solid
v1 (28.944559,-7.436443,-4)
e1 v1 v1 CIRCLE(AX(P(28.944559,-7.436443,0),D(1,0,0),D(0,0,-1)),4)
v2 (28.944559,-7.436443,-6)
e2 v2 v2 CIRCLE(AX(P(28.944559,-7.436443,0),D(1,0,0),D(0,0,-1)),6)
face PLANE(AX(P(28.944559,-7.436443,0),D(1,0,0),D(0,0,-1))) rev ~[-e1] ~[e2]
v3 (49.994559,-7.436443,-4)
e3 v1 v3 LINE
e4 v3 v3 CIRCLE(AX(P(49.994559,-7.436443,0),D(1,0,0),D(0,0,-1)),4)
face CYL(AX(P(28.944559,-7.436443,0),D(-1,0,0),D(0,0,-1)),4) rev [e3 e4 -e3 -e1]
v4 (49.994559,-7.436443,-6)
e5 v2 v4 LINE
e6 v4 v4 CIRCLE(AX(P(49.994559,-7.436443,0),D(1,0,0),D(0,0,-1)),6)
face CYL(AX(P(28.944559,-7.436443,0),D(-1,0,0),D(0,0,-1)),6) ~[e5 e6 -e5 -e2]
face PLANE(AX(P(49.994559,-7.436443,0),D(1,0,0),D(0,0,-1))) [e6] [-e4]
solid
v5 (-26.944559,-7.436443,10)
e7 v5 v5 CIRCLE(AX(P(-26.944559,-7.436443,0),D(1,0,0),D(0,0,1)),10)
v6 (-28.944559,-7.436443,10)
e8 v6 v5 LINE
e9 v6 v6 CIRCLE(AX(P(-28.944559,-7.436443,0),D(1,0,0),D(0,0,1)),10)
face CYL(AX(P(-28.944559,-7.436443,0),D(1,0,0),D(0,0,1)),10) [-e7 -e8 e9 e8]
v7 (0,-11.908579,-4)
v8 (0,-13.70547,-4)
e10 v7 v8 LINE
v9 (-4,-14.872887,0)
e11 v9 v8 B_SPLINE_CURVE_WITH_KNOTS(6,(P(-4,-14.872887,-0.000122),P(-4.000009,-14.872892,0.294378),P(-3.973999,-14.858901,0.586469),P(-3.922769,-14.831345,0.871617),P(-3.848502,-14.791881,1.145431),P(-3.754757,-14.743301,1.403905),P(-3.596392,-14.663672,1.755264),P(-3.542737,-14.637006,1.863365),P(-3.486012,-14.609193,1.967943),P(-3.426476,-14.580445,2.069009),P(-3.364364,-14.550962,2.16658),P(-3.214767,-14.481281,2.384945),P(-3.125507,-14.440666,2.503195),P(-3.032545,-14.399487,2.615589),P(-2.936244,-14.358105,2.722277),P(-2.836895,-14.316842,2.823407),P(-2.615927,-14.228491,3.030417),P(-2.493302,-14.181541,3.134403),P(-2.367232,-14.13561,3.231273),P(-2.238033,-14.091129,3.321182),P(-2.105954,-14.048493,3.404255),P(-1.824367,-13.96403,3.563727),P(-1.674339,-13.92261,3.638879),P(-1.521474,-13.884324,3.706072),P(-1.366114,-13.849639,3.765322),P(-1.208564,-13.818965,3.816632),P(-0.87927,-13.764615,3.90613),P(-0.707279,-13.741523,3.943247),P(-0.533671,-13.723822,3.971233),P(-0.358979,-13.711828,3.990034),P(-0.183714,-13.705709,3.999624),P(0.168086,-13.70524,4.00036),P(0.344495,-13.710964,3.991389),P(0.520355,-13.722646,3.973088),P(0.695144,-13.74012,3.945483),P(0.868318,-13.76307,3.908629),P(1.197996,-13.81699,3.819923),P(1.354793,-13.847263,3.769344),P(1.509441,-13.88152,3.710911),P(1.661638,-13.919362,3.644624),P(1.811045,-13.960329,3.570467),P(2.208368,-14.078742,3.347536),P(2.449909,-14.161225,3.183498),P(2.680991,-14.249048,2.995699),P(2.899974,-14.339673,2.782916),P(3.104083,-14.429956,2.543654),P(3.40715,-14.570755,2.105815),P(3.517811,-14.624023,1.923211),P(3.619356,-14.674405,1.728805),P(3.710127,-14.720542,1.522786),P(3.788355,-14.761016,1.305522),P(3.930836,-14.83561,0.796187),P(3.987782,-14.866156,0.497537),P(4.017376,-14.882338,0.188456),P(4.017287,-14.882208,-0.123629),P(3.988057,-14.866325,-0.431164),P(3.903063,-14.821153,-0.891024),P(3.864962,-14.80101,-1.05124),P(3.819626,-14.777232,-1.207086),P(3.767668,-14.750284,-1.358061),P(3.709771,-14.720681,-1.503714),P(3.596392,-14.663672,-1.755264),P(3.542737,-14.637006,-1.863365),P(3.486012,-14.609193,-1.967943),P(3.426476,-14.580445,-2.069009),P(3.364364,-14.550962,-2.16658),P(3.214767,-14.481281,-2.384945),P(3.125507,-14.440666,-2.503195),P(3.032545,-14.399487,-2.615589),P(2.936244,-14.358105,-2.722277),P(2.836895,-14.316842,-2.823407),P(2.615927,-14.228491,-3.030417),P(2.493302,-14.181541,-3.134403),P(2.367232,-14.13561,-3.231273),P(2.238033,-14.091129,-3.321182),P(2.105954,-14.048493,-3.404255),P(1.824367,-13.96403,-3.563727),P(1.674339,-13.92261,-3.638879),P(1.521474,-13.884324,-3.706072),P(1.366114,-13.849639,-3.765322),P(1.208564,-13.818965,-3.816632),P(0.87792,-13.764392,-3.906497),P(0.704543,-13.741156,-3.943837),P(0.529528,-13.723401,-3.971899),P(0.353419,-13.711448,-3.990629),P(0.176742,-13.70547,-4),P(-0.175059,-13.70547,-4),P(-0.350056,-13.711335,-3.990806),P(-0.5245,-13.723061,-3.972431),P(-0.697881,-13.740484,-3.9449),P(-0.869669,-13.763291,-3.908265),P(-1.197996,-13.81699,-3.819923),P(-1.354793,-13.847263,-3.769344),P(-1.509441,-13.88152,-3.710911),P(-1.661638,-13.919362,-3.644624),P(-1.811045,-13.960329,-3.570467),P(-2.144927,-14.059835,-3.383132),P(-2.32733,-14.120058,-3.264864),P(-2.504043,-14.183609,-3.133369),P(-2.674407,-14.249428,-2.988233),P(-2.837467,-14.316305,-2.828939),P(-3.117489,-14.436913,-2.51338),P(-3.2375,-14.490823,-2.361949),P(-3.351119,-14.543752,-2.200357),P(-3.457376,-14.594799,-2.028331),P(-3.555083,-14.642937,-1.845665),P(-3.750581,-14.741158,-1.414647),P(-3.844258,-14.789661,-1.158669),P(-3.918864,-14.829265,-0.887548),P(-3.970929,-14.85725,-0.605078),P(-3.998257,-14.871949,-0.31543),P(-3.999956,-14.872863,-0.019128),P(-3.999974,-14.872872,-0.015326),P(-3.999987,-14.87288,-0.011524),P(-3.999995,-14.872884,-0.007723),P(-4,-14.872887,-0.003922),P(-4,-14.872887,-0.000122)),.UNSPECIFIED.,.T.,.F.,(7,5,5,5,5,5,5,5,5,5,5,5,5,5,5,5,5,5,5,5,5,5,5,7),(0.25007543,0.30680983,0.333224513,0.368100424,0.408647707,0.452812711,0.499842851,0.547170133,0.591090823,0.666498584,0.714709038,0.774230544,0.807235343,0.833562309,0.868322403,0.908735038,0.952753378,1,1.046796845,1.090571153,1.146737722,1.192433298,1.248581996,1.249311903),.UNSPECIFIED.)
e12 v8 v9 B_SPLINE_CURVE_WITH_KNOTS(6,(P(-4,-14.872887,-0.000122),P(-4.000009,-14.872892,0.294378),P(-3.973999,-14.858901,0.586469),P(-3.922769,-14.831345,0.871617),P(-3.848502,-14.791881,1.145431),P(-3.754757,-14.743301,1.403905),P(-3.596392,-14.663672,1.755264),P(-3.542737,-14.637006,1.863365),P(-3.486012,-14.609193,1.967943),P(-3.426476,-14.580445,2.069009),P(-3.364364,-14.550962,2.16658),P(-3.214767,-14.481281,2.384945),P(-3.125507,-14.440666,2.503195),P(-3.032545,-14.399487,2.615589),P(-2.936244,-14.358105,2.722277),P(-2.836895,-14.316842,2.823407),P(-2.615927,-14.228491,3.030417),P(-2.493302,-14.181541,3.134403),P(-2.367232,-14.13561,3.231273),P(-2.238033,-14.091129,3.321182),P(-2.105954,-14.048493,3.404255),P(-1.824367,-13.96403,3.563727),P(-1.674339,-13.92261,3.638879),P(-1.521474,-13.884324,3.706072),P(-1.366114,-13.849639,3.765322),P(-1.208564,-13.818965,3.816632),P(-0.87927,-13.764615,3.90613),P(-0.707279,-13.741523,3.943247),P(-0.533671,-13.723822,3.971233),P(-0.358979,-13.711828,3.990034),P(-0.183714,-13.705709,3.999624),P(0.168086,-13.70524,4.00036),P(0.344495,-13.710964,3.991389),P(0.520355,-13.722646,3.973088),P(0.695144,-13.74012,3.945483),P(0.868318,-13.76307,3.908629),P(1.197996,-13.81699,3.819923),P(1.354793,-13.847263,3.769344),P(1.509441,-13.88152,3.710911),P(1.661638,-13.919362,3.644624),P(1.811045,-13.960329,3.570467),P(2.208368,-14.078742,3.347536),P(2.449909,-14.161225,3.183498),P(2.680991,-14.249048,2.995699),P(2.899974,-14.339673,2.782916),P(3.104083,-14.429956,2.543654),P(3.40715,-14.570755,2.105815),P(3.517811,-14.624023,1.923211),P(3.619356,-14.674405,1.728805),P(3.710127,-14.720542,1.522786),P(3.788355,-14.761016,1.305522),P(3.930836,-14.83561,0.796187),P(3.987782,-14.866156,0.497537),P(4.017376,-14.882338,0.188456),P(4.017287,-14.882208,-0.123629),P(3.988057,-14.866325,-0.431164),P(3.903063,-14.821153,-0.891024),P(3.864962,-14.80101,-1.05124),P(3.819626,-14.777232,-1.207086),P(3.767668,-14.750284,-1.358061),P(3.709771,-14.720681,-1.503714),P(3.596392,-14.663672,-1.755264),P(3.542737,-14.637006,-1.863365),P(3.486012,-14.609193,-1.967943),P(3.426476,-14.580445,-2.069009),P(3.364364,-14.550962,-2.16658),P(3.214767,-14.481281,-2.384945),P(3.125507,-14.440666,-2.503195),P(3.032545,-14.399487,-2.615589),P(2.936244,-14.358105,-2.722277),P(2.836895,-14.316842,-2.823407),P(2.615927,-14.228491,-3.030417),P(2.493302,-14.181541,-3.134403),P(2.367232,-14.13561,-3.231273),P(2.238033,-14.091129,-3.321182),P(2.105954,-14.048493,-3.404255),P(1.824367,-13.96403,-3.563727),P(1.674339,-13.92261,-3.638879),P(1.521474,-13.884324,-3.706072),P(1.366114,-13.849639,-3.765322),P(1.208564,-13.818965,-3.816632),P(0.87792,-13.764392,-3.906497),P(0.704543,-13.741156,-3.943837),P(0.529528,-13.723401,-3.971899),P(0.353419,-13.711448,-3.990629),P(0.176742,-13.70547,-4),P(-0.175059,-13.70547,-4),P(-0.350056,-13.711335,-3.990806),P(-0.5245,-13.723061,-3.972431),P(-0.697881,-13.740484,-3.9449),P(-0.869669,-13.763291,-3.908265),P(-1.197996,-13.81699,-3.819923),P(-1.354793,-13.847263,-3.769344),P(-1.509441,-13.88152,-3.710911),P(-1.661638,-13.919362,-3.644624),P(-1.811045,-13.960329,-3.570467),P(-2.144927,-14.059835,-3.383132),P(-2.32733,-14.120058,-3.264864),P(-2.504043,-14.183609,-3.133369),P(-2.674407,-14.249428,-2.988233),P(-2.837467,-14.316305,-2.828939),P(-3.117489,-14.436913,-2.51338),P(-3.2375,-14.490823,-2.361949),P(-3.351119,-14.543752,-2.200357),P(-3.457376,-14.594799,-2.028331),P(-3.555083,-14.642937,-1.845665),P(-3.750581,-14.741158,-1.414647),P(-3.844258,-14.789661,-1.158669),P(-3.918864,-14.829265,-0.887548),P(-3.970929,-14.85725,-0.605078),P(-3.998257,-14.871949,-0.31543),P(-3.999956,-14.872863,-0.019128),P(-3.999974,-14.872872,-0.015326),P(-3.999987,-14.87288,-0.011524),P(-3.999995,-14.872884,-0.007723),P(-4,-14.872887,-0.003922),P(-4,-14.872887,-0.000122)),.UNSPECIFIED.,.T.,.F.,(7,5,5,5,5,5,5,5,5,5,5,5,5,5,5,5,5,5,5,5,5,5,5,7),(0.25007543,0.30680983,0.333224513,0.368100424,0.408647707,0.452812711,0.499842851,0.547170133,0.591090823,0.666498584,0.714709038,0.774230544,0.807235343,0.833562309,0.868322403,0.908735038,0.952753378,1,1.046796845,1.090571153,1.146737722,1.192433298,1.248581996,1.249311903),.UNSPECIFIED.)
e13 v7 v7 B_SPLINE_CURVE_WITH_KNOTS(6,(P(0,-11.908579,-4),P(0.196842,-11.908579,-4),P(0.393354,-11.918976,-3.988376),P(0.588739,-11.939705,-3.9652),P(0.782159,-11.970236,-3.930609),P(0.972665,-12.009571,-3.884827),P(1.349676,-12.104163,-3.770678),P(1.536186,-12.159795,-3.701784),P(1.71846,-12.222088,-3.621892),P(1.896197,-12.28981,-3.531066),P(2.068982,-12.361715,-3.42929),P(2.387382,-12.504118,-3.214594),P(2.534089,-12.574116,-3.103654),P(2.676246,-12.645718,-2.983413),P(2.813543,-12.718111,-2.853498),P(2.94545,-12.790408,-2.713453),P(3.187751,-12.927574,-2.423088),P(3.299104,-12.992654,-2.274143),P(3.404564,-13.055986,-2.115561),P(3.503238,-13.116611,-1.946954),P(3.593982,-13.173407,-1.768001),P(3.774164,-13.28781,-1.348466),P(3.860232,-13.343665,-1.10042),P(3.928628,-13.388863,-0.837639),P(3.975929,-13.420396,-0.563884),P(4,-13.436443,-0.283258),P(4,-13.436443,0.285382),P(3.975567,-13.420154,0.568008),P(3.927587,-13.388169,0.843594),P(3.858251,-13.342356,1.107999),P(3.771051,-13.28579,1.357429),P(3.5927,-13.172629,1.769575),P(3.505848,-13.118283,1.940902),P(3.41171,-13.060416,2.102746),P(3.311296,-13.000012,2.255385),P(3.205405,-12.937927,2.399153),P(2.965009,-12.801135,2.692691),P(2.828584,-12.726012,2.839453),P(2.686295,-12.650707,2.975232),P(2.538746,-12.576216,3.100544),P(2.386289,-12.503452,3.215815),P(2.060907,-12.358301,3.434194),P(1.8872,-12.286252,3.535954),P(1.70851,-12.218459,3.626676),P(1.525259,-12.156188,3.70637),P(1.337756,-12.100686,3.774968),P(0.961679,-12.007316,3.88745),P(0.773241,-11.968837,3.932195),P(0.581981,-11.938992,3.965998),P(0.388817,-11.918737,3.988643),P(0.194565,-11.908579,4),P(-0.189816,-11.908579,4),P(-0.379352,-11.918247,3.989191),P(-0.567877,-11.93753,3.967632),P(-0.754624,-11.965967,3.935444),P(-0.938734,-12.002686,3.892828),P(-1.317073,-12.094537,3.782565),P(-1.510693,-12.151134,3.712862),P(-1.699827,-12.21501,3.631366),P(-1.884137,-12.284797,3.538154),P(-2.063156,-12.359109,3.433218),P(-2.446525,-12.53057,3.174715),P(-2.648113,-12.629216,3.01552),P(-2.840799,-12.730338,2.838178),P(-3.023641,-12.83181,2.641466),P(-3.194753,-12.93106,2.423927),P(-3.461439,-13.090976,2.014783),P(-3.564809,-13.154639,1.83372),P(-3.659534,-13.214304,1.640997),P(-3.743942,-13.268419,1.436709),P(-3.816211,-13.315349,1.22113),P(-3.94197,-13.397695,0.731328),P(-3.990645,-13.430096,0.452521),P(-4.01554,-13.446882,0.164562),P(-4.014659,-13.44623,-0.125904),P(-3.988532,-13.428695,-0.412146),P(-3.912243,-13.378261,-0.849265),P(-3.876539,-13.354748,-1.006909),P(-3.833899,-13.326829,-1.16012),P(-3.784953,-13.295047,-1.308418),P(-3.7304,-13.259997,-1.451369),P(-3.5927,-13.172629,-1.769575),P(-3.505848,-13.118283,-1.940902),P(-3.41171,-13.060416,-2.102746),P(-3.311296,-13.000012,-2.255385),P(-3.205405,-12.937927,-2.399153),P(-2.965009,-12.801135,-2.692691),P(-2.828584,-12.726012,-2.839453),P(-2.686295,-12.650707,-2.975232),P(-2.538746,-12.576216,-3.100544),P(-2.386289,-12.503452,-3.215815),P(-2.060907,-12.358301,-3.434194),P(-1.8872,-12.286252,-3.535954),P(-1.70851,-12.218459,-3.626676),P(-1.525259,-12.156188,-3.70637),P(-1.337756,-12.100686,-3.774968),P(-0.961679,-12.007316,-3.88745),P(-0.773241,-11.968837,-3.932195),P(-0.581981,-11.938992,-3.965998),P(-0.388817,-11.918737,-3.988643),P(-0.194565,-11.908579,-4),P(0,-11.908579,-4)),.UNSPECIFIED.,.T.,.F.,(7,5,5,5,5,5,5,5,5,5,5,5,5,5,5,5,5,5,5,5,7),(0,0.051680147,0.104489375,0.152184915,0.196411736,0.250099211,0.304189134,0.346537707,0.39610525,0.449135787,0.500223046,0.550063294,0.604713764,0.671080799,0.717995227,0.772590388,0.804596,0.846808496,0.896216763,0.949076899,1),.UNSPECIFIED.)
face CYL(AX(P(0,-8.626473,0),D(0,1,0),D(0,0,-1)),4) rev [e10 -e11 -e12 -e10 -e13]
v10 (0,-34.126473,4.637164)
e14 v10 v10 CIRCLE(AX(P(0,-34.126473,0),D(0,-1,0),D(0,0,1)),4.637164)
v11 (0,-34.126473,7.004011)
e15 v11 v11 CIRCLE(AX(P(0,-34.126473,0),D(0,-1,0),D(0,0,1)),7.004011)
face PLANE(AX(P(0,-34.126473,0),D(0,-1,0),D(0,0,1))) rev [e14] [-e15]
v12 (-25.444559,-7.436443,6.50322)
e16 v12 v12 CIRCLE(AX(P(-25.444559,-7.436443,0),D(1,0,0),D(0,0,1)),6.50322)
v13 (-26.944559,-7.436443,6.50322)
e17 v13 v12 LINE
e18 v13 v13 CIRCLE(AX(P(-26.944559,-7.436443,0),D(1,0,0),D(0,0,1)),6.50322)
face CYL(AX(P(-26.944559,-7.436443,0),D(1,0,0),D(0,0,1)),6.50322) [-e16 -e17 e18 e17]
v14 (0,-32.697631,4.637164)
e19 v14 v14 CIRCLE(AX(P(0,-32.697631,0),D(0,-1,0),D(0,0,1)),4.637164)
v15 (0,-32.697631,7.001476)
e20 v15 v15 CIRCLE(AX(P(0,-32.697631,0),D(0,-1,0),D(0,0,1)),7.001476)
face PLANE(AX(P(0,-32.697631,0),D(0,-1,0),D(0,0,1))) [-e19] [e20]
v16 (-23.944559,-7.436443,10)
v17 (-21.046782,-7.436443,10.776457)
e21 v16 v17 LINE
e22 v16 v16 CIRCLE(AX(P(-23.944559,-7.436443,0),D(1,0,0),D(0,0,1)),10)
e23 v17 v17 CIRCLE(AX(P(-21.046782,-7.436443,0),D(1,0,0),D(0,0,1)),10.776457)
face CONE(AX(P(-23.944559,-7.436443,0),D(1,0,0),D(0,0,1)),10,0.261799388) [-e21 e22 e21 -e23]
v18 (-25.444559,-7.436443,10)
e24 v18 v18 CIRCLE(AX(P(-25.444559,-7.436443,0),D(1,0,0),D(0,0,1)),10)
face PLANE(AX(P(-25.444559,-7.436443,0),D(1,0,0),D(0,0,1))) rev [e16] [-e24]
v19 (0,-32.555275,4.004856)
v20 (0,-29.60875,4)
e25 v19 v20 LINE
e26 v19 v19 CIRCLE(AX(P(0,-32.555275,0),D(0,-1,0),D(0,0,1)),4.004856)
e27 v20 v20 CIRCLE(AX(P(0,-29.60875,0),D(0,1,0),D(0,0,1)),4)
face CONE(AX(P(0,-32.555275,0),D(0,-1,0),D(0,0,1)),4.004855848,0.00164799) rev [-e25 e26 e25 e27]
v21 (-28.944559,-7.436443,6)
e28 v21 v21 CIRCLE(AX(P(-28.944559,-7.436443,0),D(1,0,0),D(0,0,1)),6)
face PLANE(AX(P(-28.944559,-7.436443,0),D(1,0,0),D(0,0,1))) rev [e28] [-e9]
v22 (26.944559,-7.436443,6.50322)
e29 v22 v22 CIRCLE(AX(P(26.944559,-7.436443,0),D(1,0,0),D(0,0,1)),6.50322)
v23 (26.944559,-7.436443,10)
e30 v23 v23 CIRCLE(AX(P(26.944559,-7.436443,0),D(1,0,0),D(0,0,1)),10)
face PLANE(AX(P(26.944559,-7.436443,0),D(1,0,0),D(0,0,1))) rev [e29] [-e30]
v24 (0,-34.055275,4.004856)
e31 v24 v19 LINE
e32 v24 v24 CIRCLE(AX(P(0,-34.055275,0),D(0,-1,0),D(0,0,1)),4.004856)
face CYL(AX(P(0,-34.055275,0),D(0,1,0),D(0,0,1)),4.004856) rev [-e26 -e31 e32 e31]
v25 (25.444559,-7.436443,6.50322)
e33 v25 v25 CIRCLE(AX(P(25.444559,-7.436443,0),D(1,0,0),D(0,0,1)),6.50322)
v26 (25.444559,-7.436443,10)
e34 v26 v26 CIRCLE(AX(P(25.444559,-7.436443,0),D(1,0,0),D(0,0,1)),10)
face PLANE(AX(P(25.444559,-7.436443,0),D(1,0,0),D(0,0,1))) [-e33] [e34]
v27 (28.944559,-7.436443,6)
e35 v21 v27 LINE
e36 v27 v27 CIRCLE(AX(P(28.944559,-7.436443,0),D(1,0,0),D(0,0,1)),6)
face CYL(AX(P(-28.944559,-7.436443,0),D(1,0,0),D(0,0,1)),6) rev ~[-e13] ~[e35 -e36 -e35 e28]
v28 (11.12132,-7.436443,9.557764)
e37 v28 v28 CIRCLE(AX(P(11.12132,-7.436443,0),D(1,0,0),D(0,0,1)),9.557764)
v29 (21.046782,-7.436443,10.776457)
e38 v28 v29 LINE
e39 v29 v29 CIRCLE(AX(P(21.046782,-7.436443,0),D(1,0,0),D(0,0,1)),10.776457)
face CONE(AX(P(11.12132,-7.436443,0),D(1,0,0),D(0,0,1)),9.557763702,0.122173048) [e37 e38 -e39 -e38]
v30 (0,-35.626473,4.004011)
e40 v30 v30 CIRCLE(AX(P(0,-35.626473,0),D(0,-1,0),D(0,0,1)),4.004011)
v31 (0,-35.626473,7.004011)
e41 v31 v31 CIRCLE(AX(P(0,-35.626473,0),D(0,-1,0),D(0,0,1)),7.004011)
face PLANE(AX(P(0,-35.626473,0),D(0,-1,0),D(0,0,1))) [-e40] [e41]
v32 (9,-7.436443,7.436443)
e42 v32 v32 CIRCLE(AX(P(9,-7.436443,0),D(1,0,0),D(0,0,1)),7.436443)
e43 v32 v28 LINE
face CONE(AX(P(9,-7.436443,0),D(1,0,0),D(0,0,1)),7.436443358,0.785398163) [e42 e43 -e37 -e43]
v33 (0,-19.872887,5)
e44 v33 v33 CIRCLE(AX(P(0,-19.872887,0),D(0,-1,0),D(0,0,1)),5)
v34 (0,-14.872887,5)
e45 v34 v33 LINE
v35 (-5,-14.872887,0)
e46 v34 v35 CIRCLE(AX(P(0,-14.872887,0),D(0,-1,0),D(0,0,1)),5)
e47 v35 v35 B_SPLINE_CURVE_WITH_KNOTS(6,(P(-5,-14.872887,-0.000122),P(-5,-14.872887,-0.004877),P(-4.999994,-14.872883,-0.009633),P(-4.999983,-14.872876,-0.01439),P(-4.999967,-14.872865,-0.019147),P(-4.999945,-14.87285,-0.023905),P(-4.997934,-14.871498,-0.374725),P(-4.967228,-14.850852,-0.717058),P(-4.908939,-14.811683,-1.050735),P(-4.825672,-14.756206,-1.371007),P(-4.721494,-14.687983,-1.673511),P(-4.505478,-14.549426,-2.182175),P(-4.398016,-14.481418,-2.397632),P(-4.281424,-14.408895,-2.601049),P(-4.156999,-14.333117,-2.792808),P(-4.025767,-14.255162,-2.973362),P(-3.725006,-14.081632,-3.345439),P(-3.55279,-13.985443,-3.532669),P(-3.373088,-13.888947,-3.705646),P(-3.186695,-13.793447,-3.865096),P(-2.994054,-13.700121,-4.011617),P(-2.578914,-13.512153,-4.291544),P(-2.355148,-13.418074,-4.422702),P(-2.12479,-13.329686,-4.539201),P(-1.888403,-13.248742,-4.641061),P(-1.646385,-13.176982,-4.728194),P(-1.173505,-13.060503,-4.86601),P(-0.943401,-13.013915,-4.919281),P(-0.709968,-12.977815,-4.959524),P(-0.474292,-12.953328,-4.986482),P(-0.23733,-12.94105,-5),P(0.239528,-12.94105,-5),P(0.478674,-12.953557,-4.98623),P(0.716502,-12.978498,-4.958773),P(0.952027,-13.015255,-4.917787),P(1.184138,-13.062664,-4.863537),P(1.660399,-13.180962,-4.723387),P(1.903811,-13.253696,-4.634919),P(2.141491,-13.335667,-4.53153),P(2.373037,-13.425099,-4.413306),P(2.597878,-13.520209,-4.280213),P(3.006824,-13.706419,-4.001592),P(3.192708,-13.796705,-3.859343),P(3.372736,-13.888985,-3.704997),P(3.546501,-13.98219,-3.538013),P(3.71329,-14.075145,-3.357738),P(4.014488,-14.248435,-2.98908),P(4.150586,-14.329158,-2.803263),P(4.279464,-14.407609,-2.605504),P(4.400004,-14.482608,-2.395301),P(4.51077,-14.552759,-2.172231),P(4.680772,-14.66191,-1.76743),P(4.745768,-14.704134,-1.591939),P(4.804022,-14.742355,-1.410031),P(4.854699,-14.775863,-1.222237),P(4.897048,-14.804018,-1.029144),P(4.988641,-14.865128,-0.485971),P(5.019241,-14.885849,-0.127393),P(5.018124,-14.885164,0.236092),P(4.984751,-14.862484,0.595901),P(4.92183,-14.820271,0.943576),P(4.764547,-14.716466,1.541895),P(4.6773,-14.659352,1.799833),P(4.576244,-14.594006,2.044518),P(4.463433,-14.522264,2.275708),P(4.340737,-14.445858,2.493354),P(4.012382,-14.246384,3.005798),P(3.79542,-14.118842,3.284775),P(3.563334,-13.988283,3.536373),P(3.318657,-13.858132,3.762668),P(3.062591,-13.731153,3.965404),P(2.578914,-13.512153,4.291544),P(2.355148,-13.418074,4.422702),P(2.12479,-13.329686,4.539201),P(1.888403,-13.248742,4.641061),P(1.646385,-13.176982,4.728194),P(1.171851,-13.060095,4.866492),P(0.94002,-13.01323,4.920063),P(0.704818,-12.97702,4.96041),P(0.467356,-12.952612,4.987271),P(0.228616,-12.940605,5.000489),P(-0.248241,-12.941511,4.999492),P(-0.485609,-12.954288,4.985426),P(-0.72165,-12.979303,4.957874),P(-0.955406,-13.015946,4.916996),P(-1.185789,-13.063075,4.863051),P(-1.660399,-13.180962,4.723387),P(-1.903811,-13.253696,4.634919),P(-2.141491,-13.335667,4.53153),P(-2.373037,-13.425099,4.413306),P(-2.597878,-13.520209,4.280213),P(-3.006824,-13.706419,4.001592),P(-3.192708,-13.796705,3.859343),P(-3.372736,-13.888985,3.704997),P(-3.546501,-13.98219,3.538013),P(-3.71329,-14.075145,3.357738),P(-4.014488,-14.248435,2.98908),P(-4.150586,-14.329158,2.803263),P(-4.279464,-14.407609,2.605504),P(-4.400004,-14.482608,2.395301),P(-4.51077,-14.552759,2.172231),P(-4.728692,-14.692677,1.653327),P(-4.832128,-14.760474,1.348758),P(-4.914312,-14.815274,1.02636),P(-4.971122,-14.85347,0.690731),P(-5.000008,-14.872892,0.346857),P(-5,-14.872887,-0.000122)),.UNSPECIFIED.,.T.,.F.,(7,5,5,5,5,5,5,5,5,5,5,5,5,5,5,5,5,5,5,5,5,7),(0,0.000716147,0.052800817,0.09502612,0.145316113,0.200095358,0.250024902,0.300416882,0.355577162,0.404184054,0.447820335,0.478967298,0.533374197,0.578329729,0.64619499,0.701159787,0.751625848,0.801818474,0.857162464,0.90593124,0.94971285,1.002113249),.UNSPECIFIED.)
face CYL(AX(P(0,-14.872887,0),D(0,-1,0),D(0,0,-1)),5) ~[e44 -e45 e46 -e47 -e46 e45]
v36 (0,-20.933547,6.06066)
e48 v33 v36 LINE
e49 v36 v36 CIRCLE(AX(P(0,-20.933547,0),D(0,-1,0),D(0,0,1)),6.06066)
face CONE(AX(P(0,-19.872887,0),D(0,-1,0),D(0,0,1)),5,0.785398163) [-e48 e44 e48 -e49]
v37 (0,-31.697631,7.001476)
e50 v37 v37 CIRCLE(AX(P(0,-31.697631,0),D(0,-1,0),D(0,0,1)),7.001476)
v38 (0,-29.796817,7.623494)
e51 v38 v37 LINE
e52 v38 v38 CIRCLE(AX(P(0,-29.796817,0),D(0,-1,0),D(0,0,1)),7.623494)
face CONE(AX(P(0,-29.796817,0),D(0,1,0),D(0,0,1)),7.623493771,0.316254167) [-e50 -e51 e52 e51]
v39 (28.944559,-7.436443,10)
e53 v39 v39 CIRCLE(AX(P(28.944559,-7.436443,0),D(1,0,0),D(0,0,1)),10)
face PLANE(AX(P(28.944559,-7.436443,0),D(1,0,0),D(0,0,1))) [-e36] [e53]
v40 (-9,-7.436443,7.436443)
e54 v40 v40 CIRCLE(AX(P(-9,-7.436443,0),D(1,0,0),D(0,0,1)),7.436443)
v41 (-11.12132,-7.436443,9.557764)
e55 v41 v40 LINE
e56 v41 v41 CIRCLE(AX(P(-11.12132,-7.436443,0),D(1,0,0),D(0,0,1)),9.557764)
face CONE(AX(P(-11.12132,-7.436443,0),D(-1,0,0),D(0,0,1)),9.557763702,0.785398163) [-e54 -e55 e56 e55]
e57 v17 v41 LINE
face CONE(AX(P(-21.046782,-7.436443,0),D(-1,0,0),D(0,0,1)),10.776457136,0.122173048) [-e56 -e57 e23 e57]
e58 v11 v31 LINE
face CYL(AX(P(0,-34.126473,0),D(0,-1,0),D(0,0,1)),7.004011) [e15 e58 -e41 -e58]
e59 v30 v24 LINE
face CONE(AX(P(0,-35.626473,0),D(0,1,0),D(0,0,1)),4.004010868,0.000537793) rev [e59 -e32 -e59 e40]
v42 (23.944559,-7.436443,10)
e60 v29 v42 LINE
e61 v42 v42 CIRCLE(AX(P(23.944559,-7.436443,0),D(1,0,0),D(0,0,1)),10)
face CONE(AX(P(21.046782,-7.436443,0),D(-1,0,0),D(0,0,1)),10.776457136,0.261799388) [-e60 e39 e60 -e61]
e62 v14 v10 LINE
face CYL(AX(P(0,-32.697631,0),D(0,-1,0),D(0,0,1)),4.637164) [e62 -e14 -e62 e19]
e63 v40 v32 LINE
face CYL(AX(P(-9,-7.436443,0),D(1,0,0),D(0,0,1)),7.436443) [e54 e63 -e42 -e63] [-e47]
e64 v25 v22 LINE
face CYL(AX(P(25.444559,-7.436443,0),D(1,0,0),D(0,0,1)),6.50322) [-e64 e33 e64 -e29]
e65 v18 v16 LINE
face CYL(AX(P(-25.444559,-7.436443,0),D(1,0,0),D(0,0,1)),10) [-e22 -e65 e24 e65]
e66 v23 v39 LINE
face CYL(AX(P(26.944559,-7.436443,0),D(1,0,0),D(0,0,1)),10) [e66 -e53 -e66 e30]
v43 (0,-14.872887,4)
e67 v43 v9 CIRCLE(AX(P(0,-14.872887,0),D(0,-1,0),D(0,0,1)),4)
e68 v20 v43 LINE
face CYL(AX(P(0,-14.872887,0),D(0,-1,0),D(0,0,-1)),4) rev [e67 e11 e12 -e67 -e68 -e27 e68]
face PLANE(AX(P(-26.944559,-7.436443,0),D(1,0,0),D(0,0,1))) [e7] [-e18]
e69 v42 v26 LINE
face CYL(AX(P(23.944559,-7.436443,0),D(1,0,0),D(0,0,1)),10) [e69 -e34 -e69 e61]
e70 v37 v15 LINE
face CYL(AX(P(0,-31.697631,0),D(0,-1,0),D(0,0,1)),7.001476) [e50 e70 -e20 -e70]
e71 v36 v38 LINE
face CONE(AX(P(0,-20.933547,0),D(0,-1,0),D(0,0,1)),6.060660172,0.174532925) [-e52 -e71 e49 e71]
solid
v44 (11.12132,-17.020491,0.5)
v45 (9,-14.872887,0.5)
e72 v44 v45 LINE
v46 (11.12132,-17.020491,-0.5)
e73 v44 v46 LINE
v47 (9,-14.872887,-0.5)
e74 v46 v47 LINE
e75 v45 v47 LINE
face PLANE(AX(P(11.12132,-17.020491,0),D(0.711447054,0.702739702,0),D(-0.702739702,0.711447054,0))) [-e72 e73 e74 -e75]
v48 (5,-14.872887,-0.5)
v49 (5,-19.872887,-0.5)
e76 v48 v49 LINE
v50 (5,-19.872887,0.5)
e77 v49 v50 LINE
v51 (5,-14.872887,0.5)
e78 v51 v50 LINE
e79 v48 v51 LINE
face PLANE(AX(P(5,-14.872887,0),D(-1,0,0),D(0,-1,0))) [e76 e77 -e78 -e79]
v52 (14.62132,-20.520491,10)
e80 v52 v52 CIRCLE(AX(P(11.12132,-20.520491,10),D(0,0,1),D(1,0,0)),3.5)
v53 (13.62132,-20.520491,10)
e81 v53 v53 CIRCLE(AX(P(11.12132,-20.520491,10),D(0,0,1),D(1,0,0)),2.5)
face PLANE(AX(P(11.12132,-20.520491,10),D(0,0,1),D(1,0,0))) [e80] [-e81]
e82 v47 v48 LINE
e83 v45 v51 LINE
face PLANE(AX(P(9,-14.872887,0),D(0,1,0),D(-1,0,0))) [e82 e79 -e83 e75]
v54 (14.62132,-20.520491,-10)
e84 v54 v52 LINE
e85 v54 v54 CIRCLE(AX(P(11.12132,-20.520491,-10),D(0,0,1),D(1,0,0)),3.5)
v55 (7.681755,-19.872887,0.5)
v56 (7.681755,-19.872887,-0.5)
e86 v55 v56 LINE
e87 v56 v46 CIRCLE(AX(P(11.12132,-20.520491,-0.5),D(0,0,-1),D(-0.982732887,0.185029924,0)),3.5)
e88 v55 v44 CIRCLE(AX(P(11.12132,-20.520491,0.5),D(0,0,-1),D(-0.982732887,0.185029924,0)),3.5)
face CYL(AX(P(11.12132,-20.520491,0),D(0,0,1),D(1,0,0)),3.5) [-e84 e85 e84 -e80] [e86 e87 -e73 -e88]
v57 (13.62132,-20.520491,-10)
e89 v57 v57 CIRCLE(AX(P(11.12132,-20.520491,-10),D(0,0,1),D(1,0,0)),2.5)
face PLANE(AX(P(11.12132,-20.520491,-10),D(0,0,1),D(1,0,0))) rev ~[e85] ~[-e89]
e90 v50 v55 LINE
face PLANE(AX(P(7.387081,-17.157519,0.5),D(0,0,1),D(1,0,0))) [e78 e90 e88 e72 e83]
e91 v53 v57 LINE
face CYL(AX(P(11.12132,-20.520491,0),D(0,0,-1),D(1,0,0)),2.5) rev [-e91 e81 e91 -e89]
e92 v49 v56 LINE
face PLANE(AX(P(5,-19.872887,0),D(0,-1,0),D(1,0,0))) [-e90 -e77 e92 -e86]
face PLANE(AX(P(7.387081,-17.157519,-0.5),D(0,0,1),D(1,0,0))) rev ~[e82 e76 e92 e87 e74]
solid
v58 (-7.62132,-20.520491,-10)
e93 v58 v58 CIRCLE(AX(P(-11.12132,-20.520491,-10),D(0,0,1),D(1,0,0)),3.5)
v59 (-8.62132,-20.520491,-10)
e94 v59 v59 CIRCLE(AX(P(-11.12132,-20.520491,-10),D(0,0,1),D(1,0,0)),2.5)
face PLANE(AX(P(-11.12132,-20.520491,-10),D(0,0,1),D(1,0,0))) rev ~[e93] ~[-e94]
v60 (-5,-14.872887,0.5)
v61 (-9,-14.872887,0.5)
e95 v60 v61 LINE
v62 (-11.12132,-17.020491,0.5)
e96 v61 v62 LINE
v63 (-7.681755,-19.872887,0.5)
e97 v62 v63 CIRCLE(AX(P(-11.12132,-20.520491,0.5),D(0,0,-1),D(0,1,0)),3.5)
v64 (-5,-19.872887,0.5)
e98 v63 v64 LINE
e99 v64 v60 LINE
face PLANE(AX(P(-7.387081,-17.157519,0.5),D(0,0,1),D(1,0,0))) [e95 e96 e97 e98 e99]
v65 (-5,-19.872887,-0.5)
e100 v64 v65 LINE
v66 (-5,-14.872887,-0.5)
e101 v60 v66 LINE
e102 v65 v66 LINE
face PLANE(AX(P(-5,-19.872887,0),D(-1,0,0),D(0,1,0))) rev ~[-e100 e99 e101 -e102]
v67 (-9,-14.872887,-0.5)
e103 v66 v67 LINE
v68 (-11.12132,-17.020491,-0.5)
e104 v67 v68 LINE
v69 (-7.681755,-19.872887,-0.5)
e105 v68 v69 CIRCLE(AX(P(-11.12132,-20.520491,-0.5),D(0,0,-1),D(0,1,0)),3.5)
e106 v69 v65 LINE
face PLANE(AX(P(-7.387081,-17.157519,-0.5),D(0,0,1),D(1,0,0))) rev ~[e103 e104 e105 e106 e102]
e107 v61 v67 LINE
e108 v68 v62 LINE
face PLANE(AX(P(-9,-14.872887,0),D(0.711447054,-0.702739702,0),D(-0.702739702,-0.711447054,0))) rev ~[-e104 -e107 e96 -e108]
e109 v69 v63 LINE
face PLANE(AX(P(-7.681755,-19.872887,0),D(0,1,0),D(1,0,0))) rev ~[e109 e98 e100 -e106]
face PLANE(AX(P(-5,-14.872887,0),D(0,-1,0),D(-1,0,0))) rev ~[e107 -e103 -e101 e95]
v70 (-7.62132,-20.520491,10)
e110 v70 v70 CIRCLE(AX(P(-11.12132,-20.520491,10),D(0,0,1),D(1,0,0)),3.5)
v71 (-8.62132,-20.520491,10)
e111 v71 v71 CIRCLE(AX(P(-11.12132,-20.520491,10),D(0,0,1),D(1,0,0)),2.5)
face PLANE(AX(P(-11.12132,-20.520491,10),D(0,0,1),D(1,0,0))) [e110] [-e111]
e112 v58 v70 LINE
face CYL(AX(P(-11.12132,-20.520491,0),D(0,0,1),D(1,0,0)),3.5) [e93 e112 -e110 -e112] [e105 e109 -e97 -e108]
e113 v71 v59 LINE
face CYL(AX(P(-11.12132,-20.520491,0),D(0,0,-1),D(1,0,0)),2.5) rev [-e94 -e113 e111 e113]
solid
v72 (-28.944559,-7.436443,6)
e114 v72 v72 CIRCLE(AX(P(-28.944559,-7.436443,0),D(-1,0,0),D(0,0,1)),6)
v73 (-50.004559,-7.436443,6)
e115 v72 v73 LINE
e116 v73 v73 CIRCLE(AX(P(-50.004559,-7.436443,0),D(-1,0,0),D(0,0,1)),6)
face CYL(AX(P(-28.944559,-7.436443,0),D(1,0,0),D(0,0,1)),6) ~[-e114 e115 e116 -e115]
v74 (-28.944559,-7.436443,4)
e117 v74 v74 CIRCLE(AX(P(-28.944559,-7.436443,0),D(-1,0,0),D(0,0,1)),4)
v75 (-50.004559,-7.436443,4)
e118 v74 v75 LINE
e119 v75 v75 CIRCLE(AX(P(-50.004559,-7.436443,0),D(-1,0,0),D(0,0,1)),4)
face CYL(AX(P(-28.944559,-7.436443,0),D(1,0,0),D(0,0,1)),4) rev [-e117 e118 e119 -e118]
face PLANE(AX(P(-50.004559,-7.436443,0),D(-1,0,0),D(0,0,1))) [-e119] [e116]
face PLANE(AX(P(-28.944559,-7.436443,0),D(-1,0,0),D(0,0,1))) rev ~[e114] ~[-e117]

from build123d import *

# Parameters (mm, degrees)
EXTRUDE_1_REACH      = 39.211
EXTRUDE_1_END_RADIUS = 7.436443358
SKETCH_4_R           = 5
SKETCH_4_R_2         = 4
SKETCH_5_R           = 3.5
SKETCH_5_R_2         = 2.5
EXTRUDE_5_DEPTH      = 10
EXTRUDE_5_2_DEPTH    = 10
EXTRUDE_7_DEPTH      = 0.5
SKETCH_8_R           = 4
CUT_EXTRUDE_1_DEPTH  = 27
SKETCH_11_R          = 6
SKETCH_11_R_2        = 4
EXTRUDE_8_DEPTH      = 21.06
SKETCH_13_R          = 6
SKETCH_13_R_2        = 4
EXTRUDE_10_DEPTH     = 21.05


with BuildPart() as part:
    # 草图1 → 旋转1 (revolve)
    with BuildSketch(Plane.XY):
        Polygon((-9, 0), (9, 0), (11.121320344, 2.121320344), (21.04678186, 3.340013778), (23.944559339, 2.563556642), (25.444559339, 2.563556642), (25.444559339, -0.933223307), (26.944559339, -0.933223307), (26.944559339, 2.563556642), (28.944559339, 2.563556642), (28.944559339, -1.436443358), (26.944559339, -1.436443358), (25.444559339, -1.436443358), (-25.444559339, -1.436443358), (-26.944559339, -1.436443358), (-28.944559339, -1.436443358), (-28.944559339, 2.563556642), (-26.944559339, 2.563556642), (-26.944559339, -0.933223307), (-25.444559339, -0.933223307), (-25.444559339, 2.563556642), (-23.944559339, 2.563556642), (-21.04678186, 3.340013778), (-11.121320344, 2.121320344), align=None)
    revolve(axis=Axis((-35.560653072, -7.436443358, 0), (1, 0, 0)))



with BuildPart() as body_2:
    # 草图2 → 旋转2 (revolve)
    with BuildSketch(Plane.XY):
        Polygon((5, -14.872886715), (4, -14.872886715), (4, -29.608749696), (4.004855848, -32.555274694), (4.004855848, -34.055274694), (4.004010868, -35.626472803), (7.004010868, -35.626472803), (7.004010868, -34.126472803), (4.637164002, -34.126472803), (4.637164002, -32.697630804), (7.001476401, -32.697630804), (7.001476401, -31.697630804), (7.623493771, -29.796816664), (6.060660172, -20.933546887), (5, -19.872886715), align=None)
    revolve(axis=Axis((0, 0, 0), (0, -1, 0)))


with BuildPart() as part_1:
    add(part.part)

    add(body_2.part)  # 凸台-拉伸1 merges body 2
    # 凸台-拉伸1: up to this cylinder (the profile starts outside it)
    extrude_1_end = Plane(origin=(-4.858579, -7.436443358, 0), z_dir=(-1, 0, 0)) * Cylinder(EXTRUDE_1_END_RADIUS, 94.294886715, mode=Mode.PRIVATE)
    # 草图4 → 凸台-拉伸1 (add, up to the surface)
    with BuildSketch(Plane(origin=(0, -14.872886715, 0), x_dir=(1, 0, 0), z_dir=(0, 1, 0)), mode=Mode.PRIVATE) as extrude_1_sk1:
        Circle(SKETCH_4_R)
        Circle(SKETCH_4_R_2, mode=Mode.SUBTRACT)
    extrude_1_tool1 = extrude(extrude_1_sk1.sketch, amount=EXTRUDE_1_REACH, mode=Mode.PRIVATE) - extrude_1_end
    add(extrude_1_tool1.solids().sort_by_distance((-4.858579, -14.872887, 0))[0])
    add(extrude_1_tool1.solids().sort_by_distance((-4.858579, -14.872887, 0))[1])

    # 草图8 → 切除-拉伸1 (cut)
    with BuildSketch(Plane(origin=(0, -35.626472803, 0), x_dir=(-1, 0, 0), z_dir=(0, -1, 0))):
        Circle(SKETCH_8_R)
    extrude(amount=-CUT_EXTRUDE_1_DEPTH, mode=Mode.SUBTRACT)


with BuildPart() as body_2_2:
    # 草图5 → 凸台-拉伸5 (new, symmetric)
    with BuildSketch(Plane.XY):
        with Locations((11.121320344, -20.520491448)):
            Circle(SKETCH_5_R)
        with Locations((11.121320344, -20.520491448)):
            Circle(SKETCH_5_R_2, mode=Mode.SUBTRACT)
    extrude(amount=EXTRUDE_5_DEPTH, both=True)


with BuildPart() as body_3:
    # 草图5 → Extrude 5 2 (new, symmetric)
    with BuildSketch(Plane.XY):
        with Locations((-11.121320344, -20.520491448)):
            Circle(SKETCH_5_R)
        with Locations((-11.121320344, -20.520491448)):
            Circle(SKETCH_5_R_2, mode=Mode.SUBTRACT)
    extrude(amount=EXTRUDE_5_2_DEPTH, both=True)


    add(body_2_2.part)  # 凸台-拉伸7 merges body 2 2
    # 草图5<9> → 凸台-拉伸7 (add, symmetric)
    with BuildSketch(Plane.XY):
        with BuildLine():
            Line((9, -14.872886715), (5, -14.872886715))
            Line((5, -14.872886715), (5, -19.872886715))
            Line((5, -19.872886715), (7.681755239, -19.872886715))
            ThreePointArc((7.681755239, -19.872886715), (8.887110927, -17.826366677), (11.121320344, -17.020491448))
            Line((11.121320344, -17.020491448), (9, -14.872886715))
        make_face()
        with BuildLine():
            Line((-9, -14.872886715), (-11.121320344, -17.020491448))
            ThreePointArc((-11.121320344, -17.020491448), (-8.887110927, -17.826366677), (-7.681755239, -19.872886715))
            Line((-7.681755239, -19.872886715), (-5, -19.872886715))
            Line((-5, -19.872886715), (-5, -14.872886715))
            Line((-5, -14.872886715), (-9, -14.872886715))
        make_face()
    extrude(amount=EXTRUDE_7_DEPTH, both=True)


with BuildPart() as body_3_2:
    # 草图11 → 凸台-拉伸8 (new body)
    with BuildSketch(Plane.ZY.offset(28.944559339)):
        with Locations((0, -7.436443358)):
            Circle(SKETCH_11_R)
        with Locations((0, -7.436443358)):
            Circle(SKETCH_11_R_2, mode=Mode.SUBTRACT)
    extrude(amount=EXTRUDE_8_DEPTH)


with BuildPart() as body_4:
    # 草图13 → 凸台-拉伸10 (new body)
    with BuildSketch(Plane(origin=(28.944559339, 0, 0), x_dir=(0, 0, -1), z_dir=(1, 0, 0))):
        with Locations((0, -7.436443358)):
            Circle(SKETCH_13_R)
        with Locations((0, -7.436443358)):
            Circle(SKETCH_13_R_2, mode=Mode.SUBTRACT)
    extrude(amount=EXTRUDE_10_DEPTH)


solid = Compound([part_1.part, body_3.part, body_3_2.part, body_4.part])
